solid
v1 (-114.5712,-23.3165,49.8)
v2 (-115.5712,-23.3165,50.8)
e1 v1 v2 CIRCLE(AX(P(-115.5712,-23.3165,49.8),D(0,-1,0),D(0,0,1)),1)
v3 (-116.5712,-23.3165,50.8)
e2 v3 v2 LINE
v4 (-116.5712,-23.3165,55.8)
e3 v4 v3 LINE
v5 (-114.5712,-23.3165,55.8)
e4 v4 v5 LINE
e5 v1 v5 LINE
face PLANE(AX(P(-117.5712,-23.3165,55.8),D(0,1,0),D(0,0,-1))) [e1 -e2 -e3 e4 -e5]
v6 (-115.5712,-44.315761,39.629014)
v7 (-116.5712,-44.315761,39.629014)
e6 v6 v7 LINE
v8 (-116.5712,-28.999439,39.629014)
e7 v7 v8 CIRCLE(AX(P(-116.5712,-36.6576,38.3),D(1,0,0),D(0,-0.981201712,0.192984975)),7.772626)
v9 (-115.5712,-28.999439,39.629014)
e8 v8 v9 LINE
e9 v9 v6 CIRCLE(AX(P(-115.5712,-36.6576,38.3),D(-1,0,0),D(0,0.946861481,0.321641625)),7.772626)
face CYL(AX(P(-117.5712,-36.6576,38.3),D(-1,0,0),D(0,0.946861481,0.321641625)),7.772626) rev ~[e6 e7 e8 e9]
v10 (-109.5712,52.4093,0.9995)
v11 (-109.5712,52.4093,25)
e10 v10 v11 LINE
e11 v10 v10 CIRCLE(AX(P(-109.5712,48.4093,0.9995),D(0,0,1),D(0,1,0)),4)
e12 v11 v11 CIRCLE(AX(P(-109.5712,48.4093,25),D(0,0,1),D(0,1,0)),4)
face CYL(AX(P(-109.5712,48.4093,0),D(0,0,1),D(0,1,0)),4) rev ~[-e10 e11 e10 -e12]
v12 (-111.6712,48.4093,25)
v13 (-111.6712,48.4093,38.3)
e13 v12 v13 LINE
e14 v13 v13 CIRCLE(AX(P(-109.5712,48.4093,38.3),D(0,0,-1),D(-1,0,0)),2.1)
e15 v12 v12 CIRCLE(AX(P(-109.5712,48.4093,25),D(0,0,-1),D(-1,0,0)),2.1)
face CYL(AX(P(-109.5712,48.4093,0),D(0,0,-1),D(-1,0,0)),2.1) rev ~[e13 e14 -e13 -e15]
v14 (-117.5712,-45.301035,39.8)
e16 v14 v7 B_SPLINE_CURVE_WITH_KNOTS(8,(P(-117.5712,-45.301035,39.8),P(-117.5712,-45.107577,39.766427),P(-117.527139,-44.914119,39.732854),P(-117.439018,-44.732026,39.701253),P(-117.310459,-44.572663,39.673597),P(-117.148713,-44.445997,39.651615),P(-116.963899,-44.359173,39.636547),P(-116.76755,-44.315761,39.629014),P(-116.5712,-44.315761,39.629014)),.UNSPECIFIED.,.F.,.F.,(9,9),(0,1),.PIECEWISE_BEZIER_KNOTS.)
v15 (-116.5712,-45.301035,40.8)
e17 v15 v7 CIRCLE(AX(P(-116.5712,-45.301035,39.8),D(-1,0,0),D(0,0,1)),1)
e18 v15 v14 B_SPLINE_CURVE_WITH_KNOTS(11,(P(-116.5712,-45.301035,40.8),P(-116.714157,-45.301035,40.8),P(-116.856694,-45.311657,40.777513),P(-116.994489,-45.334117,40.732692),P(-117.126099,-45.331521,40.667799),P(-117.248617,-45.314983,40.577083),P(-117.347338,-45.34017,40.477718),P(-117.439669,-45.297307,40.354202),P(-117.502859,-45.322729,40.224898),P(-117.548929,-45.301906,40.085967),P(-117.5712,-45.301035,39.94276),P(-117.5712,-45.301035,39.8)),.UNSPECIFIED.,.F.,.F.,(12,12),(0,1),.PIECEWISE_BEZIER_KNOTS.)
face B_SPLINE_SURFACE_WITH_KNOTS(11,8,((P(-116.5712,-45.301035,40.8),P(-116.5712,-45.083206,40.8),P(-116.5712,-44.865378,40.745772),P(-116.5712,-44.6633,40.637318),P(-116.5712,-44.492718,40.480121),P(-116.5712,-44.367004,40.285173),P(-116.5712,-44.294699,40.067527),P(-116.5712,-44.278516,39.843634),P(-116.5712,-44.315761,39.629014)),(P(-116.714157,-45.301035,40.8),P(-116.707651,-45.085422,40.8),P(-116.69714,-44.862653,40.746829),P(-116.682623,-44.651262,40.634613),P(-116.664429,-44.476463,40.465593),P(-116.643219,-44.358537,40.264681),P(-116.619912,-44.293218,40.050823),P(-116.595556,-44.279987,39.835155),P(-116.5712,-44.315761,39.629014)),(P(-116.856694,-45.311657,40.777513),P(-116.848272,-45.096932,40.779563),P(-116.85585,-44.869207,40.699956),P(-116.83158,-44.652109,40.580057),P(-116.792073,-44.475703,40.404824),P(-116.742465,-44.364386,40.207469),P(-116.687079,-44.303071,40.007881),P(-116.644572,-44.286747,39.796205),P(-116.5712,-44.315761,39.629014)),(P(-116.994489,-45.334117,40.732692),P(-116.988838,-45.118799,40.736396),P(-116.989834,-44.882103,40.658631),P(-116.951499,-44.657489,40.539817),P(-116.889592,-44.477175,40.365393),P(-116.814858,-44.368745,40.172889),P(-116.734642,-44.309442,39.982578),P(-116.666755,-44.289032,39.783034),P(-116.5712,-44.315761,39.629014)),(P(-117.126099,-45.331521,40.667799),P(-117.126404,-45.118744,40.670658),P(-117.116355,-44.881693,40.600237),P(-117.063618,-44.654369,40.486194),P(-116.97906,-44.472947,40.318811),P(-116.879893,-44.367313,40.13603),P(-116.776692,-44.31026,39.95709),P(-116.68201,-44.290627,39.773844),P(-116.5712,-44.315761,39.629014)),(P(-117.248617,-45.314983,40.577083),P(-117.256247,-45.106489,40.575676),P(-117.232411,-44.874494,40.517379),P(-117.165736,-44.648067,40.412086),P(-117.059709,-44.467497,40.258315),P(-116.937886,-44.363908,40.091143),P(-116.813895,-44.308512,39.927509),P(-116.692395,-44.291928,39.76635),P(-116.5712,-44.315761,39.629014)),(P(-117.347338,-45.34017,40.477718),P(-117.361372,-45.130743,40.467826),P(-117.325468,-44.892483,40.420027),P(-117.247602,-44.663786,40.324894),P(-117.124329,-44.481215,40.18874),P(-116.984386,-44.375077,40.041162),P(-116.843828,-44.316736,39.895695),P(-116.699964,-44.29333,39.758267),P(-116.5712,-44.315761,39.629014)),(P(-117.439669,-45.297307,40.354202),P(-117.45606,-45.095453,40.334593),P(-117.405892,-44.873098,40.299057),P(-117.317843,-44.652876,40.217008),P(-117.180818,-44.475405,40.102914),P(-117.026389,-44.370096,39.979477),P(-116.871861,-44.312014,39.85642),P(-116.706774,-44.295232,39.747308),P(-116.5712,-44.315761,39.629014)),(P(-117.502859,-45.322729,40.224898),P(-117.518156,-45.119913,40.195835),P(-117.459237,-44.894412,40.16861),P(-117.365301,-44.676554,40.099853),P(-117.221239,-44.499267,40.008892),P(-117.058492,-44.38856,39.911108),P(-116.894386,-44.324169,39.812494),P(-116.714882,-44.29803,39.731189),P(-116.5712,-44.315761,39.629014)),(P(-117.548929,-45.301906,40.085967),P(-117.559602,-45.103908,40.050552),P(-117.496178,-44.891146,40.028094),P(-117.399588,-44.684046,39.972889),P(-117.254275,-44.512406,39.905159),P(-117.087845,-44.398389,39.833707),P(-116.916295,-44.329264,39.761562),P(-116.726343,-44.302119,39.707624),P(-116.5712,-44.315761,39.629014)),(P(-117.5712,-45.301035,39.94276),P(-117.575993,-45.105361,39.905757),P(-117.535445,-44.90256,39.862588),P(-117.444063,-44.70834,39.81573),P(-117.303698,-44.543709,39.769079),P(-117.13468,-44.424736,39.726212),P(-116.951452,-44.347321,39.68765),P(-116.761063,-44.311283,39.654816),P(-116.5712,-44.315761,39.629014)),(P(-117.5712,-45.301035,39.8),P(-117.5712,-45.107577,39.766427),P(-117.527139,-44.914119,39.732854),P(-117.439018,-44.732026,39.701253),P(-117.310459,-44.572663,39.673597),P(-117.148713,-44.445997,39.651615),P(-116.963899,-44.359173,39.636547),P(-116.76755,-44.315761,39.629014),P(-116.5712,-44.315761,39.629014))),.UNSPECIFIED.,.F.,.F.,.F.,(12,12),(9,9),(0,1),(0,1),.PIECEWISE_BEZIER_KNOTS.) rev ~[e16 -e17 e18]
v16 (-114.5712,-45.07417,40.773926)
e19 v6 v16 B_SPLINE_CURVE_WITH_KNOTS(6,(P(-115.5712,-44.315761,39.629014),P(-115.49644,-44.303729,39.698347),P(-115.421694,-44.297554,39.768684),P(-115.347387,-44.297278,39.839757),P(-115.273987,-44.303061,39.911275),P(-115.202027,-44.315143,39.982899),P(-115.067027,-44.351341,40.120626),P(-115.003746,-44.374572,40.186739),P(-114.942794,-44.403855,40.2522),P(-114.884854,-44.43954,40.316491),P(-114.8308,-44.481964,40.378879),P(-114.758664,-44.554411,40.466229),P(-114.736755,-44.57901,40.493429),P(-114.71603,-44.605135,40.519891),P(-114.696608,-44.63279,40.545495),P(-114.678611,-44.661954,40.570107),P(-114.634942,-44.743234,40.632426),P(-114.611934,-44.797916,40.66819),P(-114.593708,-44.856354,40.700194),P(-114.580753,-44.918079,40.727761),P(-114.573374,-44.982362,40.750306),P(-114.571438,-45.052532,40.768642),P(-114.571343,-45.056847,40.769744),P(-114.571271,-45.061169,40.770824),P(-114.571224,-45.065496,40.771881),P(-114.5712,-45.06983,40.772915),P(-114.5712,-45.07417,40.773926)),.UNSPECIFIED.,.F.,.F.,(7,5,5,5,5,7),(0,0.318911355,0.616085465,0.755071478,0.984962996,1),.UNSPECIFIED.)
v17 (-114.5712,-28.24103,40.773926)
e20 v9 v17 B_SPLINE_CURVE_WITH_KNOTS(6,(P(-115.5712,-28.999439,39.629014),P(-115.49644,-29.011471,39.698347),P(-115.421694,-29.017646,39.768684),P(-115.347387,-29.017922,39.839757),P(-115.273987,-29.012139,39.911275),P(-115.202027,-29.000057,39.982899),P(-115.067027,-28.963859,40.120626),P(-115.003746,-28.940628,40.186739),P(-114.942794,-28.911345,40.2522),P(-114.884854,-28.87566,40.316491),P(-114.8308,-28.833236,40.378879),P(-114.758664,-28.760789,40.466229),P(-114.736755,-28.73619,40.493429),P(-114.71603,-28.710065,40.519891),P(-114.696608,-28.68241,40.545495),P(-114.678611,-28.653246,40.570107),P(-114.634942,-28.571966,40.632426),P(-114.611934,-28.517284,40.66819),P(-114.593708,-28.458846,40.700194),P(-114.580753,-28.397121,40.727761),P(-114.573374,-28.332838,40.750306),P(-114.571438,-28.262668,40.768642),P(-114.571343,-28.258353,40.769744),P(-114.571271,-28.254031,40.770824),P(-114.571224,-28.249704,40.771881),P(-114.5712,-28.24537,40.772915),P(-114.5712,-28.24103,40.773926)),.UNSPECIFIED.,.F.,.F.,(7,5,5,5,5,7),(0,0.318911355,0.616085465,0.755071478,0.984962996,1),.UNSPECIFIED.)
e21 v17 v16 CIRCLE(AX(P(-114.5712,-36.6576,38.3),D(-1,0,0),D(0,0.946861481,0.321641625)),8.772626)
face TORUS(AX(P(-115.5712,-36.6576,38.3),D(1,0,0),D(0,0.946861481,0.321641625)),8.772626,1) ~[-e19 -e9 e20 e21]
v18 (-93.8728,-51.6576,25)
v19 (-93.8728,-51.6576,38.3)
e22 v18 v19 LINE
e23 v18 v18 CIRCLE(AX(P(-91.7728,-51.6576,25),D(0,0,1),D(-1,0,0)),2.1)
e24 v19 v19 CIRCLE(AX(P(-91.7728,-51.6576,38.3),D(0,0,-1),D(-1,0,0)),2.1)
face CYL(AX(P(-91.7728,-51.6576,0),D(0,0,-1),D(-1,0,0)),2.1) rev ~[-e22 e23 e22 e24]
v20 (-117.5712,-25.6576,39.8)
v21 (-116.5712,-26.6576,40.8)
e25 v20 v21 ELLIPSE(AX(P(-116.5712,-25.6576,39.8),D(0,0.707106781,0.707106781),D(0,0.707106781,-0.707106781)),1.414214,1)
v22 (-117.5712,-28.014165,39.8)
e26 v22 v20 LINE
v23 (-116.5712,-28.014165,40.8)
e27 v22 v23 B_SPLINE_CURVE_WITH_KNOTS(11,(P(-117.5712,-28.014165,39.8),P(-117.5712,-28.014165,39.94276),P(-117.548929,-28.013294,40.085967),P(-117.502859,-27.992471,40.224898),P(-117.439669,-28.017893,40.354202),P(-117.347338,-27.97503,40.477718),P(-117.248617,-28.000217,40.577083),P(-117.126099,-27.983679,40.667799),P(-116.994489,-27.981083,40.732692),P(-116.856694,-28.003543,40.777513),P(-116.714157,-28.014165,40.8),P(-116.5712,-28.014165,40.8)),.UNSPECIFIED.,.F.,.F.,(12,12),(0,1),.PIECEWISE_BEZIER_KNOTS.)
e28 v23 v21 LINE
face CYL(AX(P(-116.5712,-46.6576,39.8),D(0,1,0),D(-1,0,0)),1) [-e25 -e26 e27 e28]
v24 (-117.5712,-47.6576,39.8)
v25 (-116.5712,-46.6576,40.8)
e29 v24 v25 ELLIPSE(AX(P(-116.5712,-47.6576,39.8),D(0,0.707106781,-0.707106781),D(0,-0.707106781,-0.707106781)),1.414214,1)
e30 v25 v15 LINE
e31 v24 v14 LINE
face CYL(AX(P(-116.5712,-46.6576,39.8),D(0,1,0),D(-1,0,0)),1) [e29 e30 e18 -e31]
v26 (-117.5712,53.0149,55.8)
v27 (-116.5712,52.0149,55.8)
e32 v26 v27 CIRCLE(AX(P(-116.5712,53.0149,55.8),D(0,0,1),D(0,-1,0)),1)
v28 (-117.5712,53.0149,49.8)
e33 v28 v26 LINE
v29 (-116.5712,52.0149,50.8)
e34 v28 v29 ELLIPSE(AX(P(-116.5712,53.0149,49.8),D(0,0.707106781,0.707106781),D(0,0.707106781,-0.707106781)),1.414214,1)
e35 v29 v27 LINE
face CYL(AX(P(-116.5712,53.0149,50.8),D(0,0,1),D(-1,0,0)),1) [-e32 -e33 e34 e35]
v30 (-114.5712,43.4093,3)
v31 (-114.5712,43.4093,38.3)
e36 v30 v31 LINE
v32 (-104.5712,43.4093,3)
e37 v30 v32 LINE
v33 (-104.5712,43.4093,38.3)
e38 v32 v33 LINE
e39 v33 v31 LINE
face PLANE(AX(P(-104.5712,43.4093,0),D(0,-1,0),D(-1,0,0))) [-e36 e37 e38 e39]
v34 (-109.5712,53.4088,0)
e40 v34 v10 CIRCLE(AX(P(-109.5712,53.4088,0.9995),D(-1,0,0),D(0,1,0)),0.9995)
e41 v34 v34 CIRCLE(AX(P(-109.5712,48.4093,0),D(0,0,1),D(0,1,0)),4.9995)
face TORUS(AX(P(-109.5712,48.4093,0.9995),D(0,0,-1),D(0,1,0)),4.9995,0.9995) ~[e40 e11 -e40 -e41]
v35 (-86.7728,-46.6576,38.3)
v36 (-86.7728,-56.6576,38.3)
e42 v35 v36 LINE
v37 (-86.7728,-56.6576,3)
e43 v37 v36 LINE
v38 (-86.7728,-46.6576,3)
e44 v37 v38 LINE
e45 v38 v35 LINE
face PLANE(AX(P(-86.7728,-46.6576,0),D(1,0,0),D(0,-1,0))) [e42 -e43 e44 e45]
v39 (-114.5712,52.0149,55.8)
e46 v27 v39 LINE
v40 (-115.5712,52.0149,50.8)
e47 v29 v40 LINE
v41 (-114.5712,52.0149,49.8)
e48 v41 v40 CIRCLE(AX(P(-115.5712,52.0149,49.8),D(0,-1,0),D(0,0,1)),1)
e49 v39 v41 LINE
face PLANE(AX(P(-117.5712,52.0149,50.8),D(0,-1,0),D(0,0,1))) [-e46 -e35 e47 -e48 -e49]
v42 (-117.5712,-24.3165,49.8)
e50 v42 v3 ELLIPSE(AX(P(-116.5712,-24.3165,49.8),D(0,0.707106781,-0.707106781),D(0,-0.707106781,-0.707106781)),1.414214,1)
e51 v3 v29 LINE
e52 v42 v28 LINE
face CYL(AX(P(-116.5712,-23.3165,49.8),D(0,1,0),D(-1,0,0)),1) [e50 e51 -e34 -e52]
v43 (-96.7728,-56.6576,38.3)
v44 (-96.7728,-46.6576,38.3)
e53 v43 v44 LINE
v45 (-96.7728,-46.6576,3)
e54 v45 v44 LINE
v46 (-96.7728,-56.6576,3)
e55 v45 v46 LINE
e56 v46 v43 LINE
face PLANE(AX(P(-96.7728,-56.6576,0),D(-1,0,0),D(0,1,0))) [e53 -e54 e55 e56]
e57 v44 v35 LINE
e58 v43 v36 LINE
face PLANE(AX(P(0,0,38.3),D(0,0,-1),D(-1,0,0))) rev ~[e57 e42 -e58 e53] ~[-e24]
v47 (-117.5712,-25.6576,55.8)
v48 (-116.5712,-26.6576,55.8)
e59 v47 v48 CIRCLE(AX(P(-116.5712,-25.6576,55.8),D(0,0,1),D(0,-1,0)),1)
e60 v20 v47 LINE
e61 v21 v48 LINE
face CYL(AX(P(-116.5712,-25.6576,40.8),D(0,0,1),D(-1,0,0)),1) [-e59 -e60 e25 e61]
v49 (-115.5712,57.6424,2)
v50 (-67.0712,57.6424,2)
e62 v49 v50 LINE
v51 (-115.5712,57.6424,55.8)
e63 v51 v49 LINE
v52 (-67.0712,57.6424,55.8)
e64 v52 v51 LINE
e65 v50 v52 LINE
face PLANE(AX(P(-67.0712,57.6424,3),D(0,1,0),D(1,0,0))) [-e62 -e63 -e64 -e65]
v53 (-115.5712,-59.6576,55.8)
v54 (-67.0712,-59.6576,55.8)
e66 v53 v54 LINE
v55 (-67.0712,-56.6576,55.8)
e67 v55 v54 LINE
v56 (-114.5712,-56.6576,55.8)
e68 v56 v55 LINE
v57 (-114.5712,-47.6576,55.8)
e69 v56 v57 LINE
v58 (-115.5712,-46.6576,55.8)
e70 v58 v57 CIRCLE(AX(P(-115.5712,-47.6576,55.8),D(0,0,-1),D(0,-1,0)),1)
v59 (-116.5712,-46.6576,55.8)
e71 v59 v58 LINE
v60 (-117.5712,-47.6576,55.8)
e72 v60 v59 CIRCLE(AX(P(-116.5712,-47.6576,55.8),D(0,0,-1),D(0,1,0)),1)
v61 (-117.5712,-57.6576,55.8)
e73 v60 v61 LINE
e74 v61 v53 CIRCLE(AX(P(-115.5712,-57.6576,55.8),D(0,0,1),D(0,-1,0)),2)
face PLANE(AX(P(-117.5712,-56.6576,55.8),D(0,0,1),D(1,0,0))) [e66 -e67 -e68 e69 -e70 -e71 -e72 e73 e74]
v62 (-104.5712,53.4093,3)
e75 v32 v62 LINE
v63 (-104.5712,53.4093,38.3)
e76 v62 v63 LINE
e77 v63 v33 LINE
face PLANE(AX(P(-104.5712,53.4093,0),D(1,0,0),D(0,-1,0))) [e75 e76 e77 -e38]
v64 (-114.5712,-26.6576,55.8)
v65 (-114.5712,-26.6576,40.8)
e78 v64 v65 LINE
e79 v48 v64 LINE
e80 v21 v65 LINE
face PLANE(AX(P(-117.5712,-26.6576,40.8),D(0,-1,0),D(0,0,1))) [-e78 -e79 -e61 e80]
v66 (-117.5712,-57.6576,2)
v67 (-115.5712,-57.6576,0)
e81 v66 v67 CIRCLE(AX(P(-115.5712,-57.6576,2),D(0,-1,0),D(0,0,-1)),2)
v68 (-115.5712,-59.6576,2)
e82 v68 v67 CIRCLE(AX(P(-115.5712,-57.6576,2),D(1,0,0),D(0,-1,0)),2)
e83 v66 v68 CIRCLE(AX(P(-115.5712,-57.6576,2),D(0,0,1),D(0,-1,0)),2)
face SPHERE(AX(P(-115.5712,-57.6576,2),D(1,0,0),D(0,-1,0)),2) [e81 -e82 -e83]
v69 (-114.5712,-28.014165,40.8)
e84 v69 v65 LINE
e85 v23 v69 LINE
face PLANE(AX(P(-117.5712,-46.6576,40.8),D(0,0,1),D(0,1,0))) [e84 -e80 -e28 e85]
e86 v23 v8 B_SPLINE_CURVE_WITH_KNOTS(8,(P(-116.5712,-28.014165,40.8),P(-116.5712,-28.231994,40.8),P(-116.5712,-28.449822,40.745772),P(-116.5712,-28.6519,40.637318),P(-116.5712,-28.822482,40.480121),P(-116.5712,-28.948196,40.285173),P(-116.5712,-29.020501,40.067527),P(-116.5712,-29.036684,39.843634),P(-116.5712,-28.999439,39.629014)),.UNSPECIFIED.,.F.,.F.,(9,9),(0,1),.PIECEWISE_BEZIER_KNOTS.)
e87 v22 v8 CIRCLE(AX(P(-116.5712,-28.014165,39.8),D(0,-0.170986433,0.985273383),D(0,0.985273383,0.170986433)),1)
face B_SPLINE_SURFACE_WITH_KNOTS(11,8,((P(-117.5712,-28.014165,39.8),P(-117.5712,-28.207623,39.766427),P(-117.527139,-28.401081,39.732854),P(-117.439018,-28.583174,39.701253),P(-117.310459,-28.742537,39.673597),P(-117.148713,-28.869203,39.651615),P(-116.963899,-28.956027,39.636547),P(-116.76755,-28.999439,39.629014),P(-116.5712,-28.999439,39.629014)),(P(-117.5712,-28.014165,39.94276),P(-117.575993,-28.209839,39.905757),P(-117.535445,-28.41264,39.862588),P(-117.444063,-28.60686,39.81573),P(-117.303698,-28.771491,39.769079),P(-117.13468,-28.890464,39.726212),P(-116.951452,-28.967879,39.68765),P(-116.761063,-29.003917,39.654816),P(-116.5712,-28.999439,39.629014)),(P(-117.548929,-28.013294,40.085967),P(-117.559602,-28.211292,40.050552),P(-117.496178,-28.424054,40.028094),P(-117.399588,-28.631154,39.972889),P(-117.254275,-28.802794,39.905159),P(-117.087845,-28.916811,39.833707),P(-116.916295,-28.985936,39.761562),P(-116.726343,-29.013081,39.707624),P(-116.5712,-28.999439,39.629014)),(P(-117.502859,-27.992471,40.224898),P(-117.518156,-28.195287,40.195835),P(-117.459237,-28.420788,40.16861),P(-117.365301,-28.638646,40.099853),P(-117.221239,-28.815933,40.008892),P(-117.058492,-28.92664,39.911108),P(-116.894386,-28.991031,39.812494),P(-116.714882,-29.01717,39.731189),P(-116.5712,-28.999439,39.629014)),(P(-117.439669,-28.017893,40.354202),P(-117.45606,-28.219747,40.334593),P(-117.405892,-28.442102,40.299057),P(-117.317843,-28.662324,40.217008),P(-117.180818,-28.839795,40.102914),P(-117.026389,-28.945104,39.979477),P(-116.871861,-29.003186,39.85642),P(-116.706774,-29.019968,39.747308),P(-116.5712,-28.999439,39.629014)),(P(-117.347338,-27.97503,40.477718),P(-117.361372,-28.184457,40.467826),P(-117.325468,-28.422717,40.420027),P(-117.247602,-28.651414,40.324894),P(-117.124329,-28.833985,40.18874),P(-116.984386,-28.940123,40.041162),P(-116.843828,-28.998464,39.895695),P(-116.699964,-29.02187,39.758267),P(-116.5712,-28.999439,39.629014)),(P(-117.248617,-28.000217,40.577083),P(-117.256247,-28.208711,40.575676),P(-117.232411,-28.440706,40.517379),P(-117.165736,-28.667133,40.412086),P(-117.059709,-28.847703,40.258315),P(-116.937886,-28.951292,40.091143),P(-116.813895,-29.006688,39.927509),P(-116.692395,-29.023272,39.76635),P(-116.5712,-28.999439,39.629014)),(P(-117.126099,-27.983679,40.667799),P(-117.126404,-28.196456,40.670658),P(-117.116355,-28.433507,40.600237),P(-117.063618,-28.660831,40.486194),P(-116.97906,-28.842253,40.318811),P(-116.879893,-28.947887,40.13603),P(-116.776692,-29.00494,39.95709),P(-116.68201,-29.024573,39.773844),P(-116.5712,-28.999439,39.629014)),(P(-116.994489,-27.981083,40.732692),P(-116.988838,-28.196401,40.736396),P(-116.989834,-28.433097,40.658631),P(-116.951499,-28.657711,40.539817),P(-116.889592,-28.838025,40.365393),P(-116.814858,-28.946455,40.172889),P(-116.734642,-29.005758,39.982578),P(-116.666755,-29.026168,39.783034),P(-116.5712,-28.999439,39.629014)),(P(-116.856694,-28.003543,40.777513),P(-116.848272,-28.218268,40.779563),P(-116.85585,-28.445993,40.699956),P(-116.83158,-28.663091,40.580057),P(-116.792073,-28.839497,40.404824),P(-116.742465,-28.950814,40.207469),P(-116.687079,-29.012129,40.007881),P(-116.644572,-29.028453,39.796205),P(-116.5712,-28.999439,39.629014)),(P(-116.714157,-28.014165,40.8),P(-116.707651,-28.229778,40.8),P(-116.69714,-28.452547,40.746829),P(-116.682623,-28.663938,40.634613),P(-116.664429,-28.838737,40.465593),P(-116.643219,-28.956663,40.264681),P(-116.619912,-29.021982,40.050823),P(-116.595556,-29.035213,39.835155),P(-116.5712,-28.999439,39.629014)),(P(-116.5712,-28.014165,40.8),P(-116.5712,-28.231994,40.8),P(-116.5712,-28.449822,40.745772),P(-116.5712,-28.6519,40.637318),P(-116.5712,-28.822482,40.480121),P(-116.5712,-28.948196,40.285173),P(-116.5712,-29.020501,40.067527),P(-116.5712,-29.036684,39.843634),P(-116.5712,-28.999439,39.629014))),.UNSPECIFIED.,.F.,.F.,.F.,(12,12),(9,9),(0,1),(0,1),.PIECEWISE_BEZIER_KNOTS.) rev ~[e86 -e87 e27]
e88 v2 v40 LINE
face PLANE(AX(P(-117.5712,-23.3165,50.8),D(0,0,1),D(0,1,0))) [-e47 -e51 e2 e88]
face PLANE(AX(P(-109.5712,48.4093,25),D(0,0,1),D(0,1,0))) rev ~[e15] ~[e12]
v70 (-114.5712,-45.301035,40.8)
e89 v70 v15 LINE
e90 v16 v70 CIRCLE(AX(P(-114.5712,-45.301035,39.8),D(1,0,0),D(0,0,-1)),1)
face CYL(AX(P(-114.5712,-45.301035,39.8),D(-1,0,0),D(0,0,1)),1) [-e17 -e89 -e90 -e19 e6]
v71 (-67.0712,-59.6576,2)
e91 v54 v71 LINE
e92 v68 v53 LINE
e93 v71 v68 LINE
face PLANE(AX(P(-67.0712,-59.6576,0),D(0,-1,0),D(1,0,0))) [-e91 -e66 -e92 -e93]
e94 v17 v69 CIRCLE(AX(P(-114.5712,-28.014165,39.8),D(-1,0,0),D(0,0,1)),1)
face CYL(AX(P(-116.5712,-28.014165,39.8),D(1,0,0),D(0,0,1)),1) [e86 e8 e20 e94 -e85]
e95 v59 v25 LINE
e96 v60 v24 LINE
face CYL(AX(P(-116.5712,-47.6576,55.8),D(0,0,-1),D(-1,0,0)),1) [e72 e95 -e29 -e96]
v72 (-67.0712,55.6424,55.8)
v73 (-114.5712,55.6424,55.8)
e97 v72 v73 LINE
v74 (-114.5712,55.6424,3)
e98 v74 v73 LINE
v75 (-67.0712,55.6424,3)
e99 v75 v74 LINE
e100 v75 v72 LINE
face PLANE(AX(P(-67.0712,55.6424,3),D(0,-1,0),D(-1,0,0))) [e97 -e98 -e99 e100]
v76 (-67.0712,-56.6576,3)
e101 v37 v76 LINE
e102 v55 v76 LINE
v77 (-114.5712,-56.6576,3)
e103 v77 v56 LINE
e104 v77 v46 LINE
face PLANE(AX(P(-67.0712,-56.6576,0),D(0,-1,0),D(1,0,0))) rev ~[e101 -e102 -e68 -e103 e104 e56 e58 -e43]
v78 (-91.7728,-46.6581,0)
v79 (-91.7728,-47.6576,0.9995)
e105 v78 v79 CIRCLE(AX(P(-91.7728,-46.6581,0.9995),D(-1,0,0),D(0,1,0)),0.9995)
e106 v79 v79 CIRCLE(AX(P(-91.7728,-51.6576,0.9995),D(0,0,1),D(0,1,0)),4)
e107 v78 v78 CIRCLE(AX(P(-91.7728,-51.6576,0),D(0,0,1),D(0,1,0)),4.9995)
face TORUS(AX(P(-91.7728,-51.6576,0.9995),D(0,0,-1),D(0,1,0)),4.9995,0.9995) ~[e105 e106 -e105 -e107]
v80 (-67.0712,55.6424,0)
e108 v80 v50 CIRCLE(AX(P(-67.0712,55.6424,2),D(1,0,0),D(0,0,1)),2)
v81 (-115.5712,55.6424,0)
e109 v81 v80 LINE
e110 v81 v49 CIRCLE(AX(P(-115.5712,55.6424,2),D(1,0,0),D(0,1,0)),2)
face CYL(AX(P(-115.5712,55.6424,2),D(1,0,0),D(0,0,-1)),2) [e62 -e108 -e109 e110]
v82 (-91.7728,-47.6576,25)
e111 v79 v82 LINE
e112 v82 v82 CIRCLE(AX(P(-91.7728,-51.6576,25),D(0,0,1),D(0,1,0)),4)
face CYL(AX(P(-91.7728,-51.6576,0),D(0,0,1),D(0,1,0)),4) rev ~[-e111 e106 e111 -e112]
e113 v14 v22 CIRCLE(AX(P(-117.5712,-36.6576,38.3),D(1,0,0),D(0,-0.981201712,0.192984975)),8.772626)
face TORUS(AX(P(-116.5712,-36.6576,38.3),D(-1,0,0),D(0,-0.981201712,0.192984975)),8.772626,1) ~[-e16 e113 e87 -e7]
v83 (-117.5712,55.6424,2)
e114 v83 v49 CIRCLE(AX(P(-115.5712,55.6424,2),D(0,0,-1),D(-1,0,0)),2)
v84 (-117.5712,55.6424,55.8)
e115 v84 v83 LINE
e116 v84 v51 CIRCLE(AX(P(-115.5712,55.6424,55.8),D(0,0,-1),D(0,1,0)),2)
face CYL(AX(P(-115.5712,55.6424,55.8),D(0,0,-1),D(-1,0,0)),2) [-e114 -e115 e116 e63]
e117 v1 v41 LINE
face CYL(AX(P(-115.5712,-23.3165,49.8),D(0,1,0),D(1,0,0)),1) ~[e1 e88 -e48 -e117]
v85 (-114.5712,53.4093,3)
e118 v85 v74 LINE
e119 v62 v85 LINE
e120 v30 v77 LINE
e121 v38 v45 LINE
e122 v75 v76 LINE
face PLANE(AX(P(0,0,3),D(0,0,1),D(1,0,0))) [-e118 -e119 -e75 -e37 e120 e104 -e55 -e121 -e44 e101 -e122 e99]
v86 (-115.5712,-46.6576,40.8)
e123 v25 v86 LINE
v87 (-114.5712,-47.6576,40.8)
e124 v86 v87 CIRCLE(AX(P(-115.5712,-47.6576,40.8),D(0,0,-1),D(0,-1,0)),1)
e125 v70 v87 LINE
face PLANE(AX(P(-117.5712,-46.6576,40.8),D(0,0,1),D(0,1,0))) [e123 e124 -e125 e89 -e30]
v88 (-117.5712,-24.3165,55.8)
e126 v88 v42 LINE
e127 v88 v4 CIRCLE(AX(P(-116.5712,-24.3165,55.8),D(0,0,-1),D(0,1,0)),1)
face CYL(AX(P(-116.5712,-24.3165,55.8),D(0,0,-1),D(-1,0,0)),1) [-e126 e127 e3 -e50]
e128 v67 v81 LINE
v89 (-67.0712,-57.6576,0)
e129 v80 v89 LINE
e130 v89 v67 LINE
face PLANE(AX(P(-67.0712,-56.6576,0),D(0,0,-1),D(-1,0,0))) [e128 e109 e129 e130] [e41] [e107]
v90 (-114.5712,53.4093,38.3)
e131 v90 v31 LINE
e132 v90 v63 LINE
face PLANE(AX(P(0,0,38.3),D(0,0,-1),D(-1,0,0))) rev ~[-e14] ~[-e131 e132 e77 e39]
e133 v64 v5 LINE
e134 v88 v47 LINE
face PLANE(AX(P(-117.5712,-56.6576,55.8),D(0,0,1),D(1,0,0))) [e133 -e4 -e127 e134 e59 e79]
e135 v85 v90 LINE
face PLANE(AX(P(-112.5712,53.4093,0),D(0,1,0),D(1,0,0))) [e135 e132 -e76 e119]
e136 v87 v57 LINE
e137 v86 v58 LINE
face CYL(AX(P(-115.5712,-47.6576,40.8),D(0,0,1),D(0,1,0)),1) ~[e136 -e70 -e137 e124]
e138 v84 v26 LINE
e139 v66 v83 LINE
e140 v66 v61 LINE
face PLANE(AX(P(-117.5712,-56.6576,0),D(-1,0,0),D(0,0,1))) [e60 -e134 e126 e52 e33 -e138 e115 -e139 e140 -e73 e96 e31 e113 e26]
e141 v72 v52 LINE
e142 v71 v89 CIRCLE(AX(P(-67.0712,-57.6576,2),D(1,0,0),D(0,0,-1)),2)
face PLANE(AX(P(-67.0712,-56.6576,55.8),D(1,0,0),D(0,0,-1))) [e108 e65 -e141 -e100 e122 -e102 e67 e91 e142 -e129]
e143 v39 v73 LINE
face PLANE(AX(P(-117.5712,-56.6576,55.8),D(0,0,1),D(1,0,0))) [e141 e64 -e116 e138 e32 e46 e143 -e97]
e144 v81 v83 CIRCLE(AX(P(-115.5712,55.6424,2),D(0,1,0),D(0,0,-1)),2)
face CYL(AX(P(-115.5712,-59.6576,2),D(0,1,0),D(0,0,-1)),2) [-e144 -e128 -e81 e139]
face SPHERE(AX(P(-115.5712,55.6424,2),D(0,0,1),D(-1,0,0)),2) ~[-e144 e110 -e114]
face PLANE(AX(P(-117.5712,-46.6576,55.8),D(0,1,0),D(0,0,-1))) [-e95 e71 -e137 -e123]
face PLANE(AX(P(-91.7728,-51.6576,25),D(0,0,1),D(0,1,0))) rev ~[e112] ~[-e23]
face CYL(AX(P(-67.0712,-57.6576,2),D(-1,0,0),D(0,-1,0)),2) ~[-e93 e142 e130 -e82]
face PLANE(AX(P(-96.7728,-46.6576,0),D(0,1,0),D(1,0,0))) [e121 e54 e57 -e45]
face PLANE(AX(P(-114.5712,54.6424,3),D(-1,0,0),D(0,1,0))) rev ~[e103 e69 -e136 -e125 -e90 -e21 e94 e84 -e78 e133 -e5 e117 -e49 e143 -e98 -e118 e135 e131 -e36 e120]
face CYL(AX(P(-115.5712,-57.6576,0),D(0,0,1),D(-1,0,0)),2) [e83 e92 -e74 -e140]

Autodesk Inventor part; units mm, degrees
ref_plane "YZ Plane" through (0, 0, 0) normal (1, 0, 0) x (0, 1, 0)
ref_plane "XZ Plane" through (0, 0, 0) normal (0, 1, 0) x (-1, 0, 0)
sketch "Skizze1" plane through (0, 0, 0) normal (0, 0, 1) x (1, 0, 0)
  line L0 (105.8135, 54.6424) -> (-70.1865, 54.6424) construction
  line L1 (-70.1865, 54.6424) -> (-70.1865, -55.3576) construction
  line L2 (-70.1865, -55.3576) -> (-86.1865, -55.3576) construction
  line L3 (-86.1865, -55.3576) -> (-86.1865, -56.6576) construction
  line L4 (112.8344, -56.6576) -> (-86.1865, -56.6576) construction
  line L5 (112.8344, -55.3576) -> (112.8344, -56.6576) construction
  line L6 (112.8344, -55.3576) -> (105.8135, -55.3576) construction
  line L7 (105.8135, -55.3576) -> (105.8135, 54.6424) construction
  line L8 (-104.5712, -45.4245) -> (-104.5712, -55.4245) construction
  line L9 (112.8135, -55.4245) -> (-104.5712, -55.4245) construction
  line L10 (112.8135, 46.962) -> (112.8135, -55.4245) construction
  line L11 (110.3928, 46.962) -> (112.8135, 46.962) construction
  arc A0 (110.3928, 50.262) -> (110.3928, 46.962) centre (110.3928, 48.612) ccw construction
  line L12 (112.8135, 50.262) -> (110.3928, 50.262) construction
  line L13 (112.8135, 54.6424) -> (112.8135, 50.262) construction
  line L14 (-86.7728, 54.6424) -> (112.8135, 54.6424) construction
  line L15 (-86.7728, 54.6424) -> (-86.7728, 44.6424) construction
  line L16 (-86.7728, 44.6424) -> (-96.7728, 44.6424) construction
  line L17 (-96.7728, 44.6424) -> (-96.7728, 54.6424) construction
  line L18 (-112.5712, 54.6424) -> (-96.7728, 54.6424) construction
  arc A1 (-112.5712, 54.6424) -> (-114.5712, 52.6424) centre (-112.5712, 52.6424) ccw construction
  line L19 (-114.5712, 44.6424) -> (-114.5712, 52.6424) construction
  line L20 (-114.5712, 44.6424) -> (-104.5712, 44.6424) construction
  line L21 (-104.5712, 44.6424) -> (-104.5712, 24.6424) construction
  line L22 (-104.5712, 24.6424) -> (-114.5712, 24.6424) construction
  line L23 (-114.5712, -45.4245) -> (-114.5712, 24.6424) construction
  line L24 (-114.5712, -45.4245) -> (-104.5712, -45.4245) construction
  circle A2 centre (-81.2226, -51.7118) radius 2 construction
  circle A3 centre (-109.5712, -50.4245) radius 1.75 construction
  arc A4 (-114.5712, -53.4245) -> (-112.5712, -55.4245) centre (-112.5712, -53.4245) ccw construction
  line L25 (-112.5712, -55.4245) -> (-104.5712, -55.4245) construction
  line L26 (-104.5712, -55.4245) -> (-104.5712, -45.4245) construction
  line L27 (-104.5712, -45.4245) -> (-114.5712, -45.4245) construction
  line L28 (-114.5712, -45.4245) -> (-114.5712, -53.4245) construction
  circle A5 centre (-91.7728, 49.6424) radius 1.75 construction
  line L29 (-86.7728, 54.6424) -> (-96.7728, 54.6424) construction
  line L30 (-96.7728, 54.6424) -> (-96.7728, 44.6424) construction
  line L31 (-96.7728, 44.6424) -> (-86.7728, 44.6424) construction
  line L32 (-86.7728, 44.6424) -> (-86.7728, 54.6424) construction
  line L33 (-114.5712, 42.6424) -> (-114.5712, 26.6424) construction
  arc A6 (-114.5712, 26.6424) -> (-112.5712, 24.6424) centre (-112.5712, 26.6424) ccw construction
  arc A7 (-112.5712, 44.6424) -> (-114.5712, 42.6424) centre (-112.5712, 42.6424) ccw construction
  line L34 (-114.5712, -56.6576) -> (-67.0712, -56.6576)
  line L35 (-67.0712, -56.6576) -> (-67.0712, 54.6424)
  line L36 (-67.0712, 54.6424) -> (-114.5712, 54.6424)
  line L37 (-114.5712, 54.6424) -> (-114.5712, -56.6576)
  point P0 (0, 0)
extrude "Extrusion1" add sketch "Skizze1" along normal blind 3
sketch "Skizze2" plane through (0, 0, 0) normal (0, 0, -1) x (-1, 0, 0)
  line L0 (104.5712, 43.4093) -> (114.5712, 43.4093) projected
  line L1 (104.5712, 53.4093) -> (104.5712, 43.4093) projected
  line L2 (112.5712, 53.4093) -> (104.5712, 53.4093) projected
  circle A0 centre (109.5712, 48.4093) radius 1.75 projected
  line L3 (114.5712, 54.6424) -> (114.5712, -56.6576) projected
  circle A1 centre (91.7728, -51.6576) radius 1.75 projected
  line L4 (86.7728, -46.6576) -> (86.7728, -56.6576) projected
  line L5 (114.5712, -56.6576) -> (67.0712, -56.6576) projected
  line L6 (96.7728, -46.6576) -> (86.7728, -46.6576) projected
  line L7 (96.7728, -56.6576) -> (96.7728, -46.6576) projected
  line L8 (114.5712, 54.6424) -> (114.5712, -56.6576) projected
  line L9 (104.5712, 43.4093) -> (114.5712, 43.4093)
  line L10 (114.5712, 43.4093) -> (114.5712, 53.4093)
  line L11 (114.5712, 53.4093) -> (104.5712, 53.4093)
  line L12 (104.5712, 53.4093) -> (104.5712, 43.4093)
  line L13 (86.7728, -56.6576) -> (96.7728, -56.6576)
  line L14 (96.7728, -56.6576) -> (96.7728, -46.6576)
  line L15 (96.7728, -46.6576) -> (86.7728, -46.6576)
  line L16 (86.7728, -46.6576) -> (86.7728, -56.6576)
  circle A2 centre (91.7728, -51.6576) radius 2.1
  circle A3 centre (109.5712, 48.4093) radius 2.1
  point P0 (0, 0)
  dimension "d3" = 4.2
  dimension "d4" = 4.2
ref_plane "Arbeitsebene1" through (-114.5712, 43.4093, 38.3) normal (0, 0, -1) x (0, 1, 0)
extrude "Extrusion2" add sketch "Skizze2" against normal up to surface (38.3 mm away) contours L1 L2 L11 L3 L0 | L5 L4 L6 L7
sketch "Skizze3" plane through (0, 0, 0) normal (0, 0, -1) x (-1, 0, 0)
  circle A0 centre (91.7728, -51.6576) radius 2.1 projected
  circle A1 centre (109.5712, 48.4093) radius 2.1 projected
  point P0 (0, 0)
hole "Bohrung1" at (-109.5712, 48.4093, 0) at (-91.7728, -51.6576, 0) direction (0, 0, 1) diameter 4.2 depth 38.3 counterbore diameter 8 counterbore depth 25
fillet "Rundung1" radius 1 2 edges at (-91.7728, -55.6576, 0) (-109.5712, 44.4093, 0)
sketch "Skizze4" plane through (-114.5712, 54.6424, 0) normal (-1, 0, 0) x (0, 0, 1)
  line L0 (3, 0) -> (3, -1.2331) construction
  line L1 (0, 0) -> (3, 0) construction
  line L2 (0, 0) -> (0, -6.2331) construction
  line L3 (0, -6.2331) -> (0, -111.3) construction
  line L4 (0, -111.3) -> (3, -111.3) construction
  line L5 (3, -11.2331) -> (3, -111.3) construction
  line L6 (3, -11.2331) -> (38.3, -11.2331) construction
  line L7 (38.3, -1.2331) -> (38.3, -11.2331) construction
  line L8 (3, -1.2331) -> (38.3, -1.2331) construction
  line L9 (25, -102.3) -> (1, -102.3) construction
  line L10 (3, -111.3) -> (38.3, -111.3) construction
  line L11 (55.8, -3.2331) -> (55.8, -109.3) construction
  line L12 (0, -111.3) -> (55.8, -111.3)
  line L13 (55.8, -111.3) -> (55.8, 0)
  line L14 (55.8, 0) -> (0, 0)
  line L15 (0, 0) -> (0, -111.3)
  point P0 (0, -54.6424)
extrude "Extrusion4" add sketch "Skizze4" along normal blind 3
sketch "Skizze5" plane through (-67.0712, 54.6424, 3) normal (0, 1, 0) x (1, 0, 0)
  line L0 (0, 3) -> (-50.5, 3) construction
  line L1 (-50.5, -52.8) -> (-50.5, 3) construction
  line L2 (179.8847, -52.8) -> (-45.5, -52.8) construction
  line L3 (-50.5, 3) -> (0, 3)
  line L4 (0, 3) -> (0, -52.8)
  line L5 (0, -52.8) -> (-50.5, -52.8)
  line L6 (-50.5, -52.8) -> (-50.5, 3)
  point P0 (67.0712, 3)
extrude "Extrusion5" add sketch "Skizze5" along normal blind 3
fillet "Rundung2" radius 2 1 edges at (-117.5712, 57.6424, 27.9)
sketch "Skizze6" plane through (-67.0712, -56.6576, 0) normal (0, -1, 0) x (1, 0, 0)
  line L0 (-47.5, 3) -> (-29.7016, 3) construction
  line L1 (-47.5, 3) -> (-47.5, 55.8) construction
  line L2 (-47.5, 55.8) -> (-50.5, 55.8) construction
  line L3 (-50.5, 0) -> (-50.5, 55.8) construction
  line L4 (-50.5, 0) -> (-24.7016, 0) construction
  line L5 (-24.7016, 0) -> (0, 0) construction
  line L6 (0, 0) -> (0, 3) construction
  line L7 (-19.7016, 3) -> (0, 3) construction
  line L8 (-19.7016, 3) -> (-19.7016, 38.3) construction
  line L9 (-29.7016, 38.3) -> (-19.7016, 38.3) construction
  line L10 (-29.7016, 3) -> (-29.7016, 38.3) construction
  line L11 (0, 3) -> (0, 55.8) construction
  line L12 (-45.5, 55.8) -> (179.8847, 55.8) construction
  line L13 (-50.5, 55.8) -> (-48.5, 55.8) projected
  line L14 (0, 0) -> (-50.5, 0)
  line L15 (-50.5, 0) -> (-50.5, 55.8)
  line L16 (-50.5, 55.8) -> (0, 55.8)
  line L17 (0, 55.8) -> (0, 0)
  point P0 (67.0712, 0)
extrude "Extrusion6" add sketch "Skizze6" along normal blind 3
fillet "Rundung3" radius 2 3 edges at (-92.3212, -59.6576, 0) (-117.5712, -59.6576, 27.9) (-91.3212, 57.6424, 0)
sketch "Skizze7" plane through (0, 0, 3) normal (0, 0, 1) x (1, 0, 0)
  arc A0 (-117.5712, -57.6576) -> (-115.5712, -59.6576) centre (-115.5712, -57.6576) ccw construction
  line L0 (-67.0712, -59.6576) -> (-115.5712, -59.6576) construction
  line L1 (-67.0712, -56.6576) -> (-67.0712, -59.6576) construction
  line L2 (-67.0712, -56.6576) -> (-114.5712, -56.6576) construction
  line L3 (-114.5712, -56.6576) -> (-114.5712, 54.6424) construction
  line L4 (-67.0712, 54.6424) -> (-114.5712, 54.6424) construction
  line L5 (-67.0712, 54.6424) -> (-67.0712, 57.6424) construction
  line L6 (-115.5712, 57.6424) -> (-67.0712, 57.6424) construction
  arc A1 (-115.5712, 57.6424) -> (-117.5712, 55.6424) centre (-115.5712, 55.6424) ccw construction
  line L7 (-117.5712, 55.6424) -> (-117.5712, -57.6576) construction
  line L8 (112.8135, 53.4093) -> (-112.5712, 53.4093) construction
  line L9 (-67.0712, 54.6424) -> (-114.5712, 54.6424) construction
  line L10 (-67.0712, 55.6424) -> (-115.5712, 55.6424) projected
  line L11 (-67.0712, 54.6424) -> (-114.5712, 54.6424)
  line L12 (-114.5712, 54.6424) -> (-114.5712, 55.6424)
  line L13 (-114.5712, 55.6424) -> (-67.0712, 55.6424)
  line L14 (-67.0712, 55.6424) -> (-67.0712, 54.6424)
  point P0 (0, 0)
extrude "Extrusion7" cut sketch "Skizze7" along normal up to surface (52.8 mm away)
sketch "Skizze9" plane through (-117.5712, 54.6424, 0) normal (-1, 0, 0) x (0, 0, 1)
  line L0 (2, -112.3) -> (2, 1) construction
  line L1 (55.8, -112.3) -> (2, -112.3) construction
  line L2 (55.8, 1) -> (55.8, -112.3) construction
  line L3 (2, 1) -> (55.8, 1) construction
  line L4 (52.8, -101.3) -> (38.3, -101.3) construction
  line L5 (52.8, -81.3) -> (38.3, -81.3) construction
  line L6 (36.3, -99.3) -> (36.3, -83.3) construction
  line L7 (55.8, -111.3) -> (55.8, 1) construction
  line L8 (55.8, -101.3) -> (50.8, -101.3)
  line L9 (50.8, -77.9589) -> (50.8, -2.6275)
  line L10 (50.8, -2.6275) -> (55.8, -2.6275)
  line L11 (50.8, -101.3) -> (40.8, -101.3)
  line L12 (40.8, -101.3) -> (40.8, -81.3)
  line L13 (40.8, -81.3) -> (50.8, -81.3)
  line L14 (50.8, -81.3) -> (55.8, -81.3)
  line L15 (55.8, -77.9589) -> (50.8, -77.9589)
  line L16 (55.8, -2.6275) -> (55.8, -77.9589)
  line L17 (55.8, -81.3) -> (55.8, -101.3)
  point P0 (0, -54.6424)
  dimension "d31" = 5
extrude "Extrusion9" cut sketch "Skizze9" against normal blind 3
fillet "Rundung4" radius 1 8 edges at (-117.5712, -46.6576, 48.3) (-117.5712, -36.6576, 40.8) (-114.5712, -46.6576, 48.3) (-117.5712, -23.3164, 53.3) (-117.5712, -26.6576, 48.3) (-117.5712, 14.3492, 50.8) (-114.5712, 14.3492, 50.8) (-117.5712, 52.0149, 53.3)
sketch "Skizze10" plane through (-117.5712, 54.6424, 0) normal (-1, 0, 0) x (0, 0, 1)
  line L0 (38.3, -3.2331) -> (55.8, -3.2331) construction
  line L1 (38.3, -11.2331) -> (38.3, -3.2331) construction
  line L2 (52.8, -11.2331) -> (38.3, -11.2331) construction
  line L3 (52.8, -11.2331) -> (52.8, -81.3) construction
  line L4 (52.8, -81.3) -> (38.3, -81.3) construction
  line L5 (38.3, -87.2689) -> (38.3, -81.3) construction
  arc A0 (38.3, -87.2689) -> (39.4111, -89.0605) centre (40.3, -87.2689) ccw construction
  arc A1 (40.7863, -91.0383) -> (39.4111, -89.0605) centre (38.3, -91.3) ccw construction
  line L6 (40.4663, -91.0383) -> (40.7863, -91.0383) construction
  line L7 (40.4663, -91.0383) -> (40.4663, -91.5741) construction
  line L8 (40.4663, -91.5741) -> (40.7849, -91.5741) construction
  arc A2 (39.4111, -93.5395) -> (40.7849, -91.5741) centre (38.3, -91.3) ccw construction
  arc A3 (39.4111, -93.5395) -> (38.3, -95.3311) centre (40.3, -95.3311) ccw construction
  line L9 (38.3, -101.3) -> (38.3, -95.3311) construction
  line L10 (52.8, -101.3) -> (38.3, -101.3) construction
  line L11 (52.8, -101.3) -> (52.8, -109.3) construction
  line L12 (55.8, -109.3) -> (52.8, -109.3) construction
  line L13 (55.8, -3.2331) -> (55.8, -109.3) construction
  arc A4 (40.8, -83.9404) -> (40.8, -98.6596) centre (38.3, -91.3) ccw
  line L14 (40.8, -101.3) -> (40.8, -81.3) projected
  line L15 (40.8, -98.6596) -> (40.8, -83.9404)
  point P0 (0, -54.6424)
extrude "Extrusion10" cut sketch "Skizze10" against normal blind 3
fillet "Rundung5" radius 1 6 edges at (-114.5712, -36.6576, 30.5274) (-117.2456, -29.2142, 40.5383) (-117.2456, -44.1009, 40.5383) (-115.5712, -29.298, 40.8) (-115.5712, -44.0172, 40.8) (-117.5712, -36.6576, 30.5274)
properties part number "PowerS_cap"
